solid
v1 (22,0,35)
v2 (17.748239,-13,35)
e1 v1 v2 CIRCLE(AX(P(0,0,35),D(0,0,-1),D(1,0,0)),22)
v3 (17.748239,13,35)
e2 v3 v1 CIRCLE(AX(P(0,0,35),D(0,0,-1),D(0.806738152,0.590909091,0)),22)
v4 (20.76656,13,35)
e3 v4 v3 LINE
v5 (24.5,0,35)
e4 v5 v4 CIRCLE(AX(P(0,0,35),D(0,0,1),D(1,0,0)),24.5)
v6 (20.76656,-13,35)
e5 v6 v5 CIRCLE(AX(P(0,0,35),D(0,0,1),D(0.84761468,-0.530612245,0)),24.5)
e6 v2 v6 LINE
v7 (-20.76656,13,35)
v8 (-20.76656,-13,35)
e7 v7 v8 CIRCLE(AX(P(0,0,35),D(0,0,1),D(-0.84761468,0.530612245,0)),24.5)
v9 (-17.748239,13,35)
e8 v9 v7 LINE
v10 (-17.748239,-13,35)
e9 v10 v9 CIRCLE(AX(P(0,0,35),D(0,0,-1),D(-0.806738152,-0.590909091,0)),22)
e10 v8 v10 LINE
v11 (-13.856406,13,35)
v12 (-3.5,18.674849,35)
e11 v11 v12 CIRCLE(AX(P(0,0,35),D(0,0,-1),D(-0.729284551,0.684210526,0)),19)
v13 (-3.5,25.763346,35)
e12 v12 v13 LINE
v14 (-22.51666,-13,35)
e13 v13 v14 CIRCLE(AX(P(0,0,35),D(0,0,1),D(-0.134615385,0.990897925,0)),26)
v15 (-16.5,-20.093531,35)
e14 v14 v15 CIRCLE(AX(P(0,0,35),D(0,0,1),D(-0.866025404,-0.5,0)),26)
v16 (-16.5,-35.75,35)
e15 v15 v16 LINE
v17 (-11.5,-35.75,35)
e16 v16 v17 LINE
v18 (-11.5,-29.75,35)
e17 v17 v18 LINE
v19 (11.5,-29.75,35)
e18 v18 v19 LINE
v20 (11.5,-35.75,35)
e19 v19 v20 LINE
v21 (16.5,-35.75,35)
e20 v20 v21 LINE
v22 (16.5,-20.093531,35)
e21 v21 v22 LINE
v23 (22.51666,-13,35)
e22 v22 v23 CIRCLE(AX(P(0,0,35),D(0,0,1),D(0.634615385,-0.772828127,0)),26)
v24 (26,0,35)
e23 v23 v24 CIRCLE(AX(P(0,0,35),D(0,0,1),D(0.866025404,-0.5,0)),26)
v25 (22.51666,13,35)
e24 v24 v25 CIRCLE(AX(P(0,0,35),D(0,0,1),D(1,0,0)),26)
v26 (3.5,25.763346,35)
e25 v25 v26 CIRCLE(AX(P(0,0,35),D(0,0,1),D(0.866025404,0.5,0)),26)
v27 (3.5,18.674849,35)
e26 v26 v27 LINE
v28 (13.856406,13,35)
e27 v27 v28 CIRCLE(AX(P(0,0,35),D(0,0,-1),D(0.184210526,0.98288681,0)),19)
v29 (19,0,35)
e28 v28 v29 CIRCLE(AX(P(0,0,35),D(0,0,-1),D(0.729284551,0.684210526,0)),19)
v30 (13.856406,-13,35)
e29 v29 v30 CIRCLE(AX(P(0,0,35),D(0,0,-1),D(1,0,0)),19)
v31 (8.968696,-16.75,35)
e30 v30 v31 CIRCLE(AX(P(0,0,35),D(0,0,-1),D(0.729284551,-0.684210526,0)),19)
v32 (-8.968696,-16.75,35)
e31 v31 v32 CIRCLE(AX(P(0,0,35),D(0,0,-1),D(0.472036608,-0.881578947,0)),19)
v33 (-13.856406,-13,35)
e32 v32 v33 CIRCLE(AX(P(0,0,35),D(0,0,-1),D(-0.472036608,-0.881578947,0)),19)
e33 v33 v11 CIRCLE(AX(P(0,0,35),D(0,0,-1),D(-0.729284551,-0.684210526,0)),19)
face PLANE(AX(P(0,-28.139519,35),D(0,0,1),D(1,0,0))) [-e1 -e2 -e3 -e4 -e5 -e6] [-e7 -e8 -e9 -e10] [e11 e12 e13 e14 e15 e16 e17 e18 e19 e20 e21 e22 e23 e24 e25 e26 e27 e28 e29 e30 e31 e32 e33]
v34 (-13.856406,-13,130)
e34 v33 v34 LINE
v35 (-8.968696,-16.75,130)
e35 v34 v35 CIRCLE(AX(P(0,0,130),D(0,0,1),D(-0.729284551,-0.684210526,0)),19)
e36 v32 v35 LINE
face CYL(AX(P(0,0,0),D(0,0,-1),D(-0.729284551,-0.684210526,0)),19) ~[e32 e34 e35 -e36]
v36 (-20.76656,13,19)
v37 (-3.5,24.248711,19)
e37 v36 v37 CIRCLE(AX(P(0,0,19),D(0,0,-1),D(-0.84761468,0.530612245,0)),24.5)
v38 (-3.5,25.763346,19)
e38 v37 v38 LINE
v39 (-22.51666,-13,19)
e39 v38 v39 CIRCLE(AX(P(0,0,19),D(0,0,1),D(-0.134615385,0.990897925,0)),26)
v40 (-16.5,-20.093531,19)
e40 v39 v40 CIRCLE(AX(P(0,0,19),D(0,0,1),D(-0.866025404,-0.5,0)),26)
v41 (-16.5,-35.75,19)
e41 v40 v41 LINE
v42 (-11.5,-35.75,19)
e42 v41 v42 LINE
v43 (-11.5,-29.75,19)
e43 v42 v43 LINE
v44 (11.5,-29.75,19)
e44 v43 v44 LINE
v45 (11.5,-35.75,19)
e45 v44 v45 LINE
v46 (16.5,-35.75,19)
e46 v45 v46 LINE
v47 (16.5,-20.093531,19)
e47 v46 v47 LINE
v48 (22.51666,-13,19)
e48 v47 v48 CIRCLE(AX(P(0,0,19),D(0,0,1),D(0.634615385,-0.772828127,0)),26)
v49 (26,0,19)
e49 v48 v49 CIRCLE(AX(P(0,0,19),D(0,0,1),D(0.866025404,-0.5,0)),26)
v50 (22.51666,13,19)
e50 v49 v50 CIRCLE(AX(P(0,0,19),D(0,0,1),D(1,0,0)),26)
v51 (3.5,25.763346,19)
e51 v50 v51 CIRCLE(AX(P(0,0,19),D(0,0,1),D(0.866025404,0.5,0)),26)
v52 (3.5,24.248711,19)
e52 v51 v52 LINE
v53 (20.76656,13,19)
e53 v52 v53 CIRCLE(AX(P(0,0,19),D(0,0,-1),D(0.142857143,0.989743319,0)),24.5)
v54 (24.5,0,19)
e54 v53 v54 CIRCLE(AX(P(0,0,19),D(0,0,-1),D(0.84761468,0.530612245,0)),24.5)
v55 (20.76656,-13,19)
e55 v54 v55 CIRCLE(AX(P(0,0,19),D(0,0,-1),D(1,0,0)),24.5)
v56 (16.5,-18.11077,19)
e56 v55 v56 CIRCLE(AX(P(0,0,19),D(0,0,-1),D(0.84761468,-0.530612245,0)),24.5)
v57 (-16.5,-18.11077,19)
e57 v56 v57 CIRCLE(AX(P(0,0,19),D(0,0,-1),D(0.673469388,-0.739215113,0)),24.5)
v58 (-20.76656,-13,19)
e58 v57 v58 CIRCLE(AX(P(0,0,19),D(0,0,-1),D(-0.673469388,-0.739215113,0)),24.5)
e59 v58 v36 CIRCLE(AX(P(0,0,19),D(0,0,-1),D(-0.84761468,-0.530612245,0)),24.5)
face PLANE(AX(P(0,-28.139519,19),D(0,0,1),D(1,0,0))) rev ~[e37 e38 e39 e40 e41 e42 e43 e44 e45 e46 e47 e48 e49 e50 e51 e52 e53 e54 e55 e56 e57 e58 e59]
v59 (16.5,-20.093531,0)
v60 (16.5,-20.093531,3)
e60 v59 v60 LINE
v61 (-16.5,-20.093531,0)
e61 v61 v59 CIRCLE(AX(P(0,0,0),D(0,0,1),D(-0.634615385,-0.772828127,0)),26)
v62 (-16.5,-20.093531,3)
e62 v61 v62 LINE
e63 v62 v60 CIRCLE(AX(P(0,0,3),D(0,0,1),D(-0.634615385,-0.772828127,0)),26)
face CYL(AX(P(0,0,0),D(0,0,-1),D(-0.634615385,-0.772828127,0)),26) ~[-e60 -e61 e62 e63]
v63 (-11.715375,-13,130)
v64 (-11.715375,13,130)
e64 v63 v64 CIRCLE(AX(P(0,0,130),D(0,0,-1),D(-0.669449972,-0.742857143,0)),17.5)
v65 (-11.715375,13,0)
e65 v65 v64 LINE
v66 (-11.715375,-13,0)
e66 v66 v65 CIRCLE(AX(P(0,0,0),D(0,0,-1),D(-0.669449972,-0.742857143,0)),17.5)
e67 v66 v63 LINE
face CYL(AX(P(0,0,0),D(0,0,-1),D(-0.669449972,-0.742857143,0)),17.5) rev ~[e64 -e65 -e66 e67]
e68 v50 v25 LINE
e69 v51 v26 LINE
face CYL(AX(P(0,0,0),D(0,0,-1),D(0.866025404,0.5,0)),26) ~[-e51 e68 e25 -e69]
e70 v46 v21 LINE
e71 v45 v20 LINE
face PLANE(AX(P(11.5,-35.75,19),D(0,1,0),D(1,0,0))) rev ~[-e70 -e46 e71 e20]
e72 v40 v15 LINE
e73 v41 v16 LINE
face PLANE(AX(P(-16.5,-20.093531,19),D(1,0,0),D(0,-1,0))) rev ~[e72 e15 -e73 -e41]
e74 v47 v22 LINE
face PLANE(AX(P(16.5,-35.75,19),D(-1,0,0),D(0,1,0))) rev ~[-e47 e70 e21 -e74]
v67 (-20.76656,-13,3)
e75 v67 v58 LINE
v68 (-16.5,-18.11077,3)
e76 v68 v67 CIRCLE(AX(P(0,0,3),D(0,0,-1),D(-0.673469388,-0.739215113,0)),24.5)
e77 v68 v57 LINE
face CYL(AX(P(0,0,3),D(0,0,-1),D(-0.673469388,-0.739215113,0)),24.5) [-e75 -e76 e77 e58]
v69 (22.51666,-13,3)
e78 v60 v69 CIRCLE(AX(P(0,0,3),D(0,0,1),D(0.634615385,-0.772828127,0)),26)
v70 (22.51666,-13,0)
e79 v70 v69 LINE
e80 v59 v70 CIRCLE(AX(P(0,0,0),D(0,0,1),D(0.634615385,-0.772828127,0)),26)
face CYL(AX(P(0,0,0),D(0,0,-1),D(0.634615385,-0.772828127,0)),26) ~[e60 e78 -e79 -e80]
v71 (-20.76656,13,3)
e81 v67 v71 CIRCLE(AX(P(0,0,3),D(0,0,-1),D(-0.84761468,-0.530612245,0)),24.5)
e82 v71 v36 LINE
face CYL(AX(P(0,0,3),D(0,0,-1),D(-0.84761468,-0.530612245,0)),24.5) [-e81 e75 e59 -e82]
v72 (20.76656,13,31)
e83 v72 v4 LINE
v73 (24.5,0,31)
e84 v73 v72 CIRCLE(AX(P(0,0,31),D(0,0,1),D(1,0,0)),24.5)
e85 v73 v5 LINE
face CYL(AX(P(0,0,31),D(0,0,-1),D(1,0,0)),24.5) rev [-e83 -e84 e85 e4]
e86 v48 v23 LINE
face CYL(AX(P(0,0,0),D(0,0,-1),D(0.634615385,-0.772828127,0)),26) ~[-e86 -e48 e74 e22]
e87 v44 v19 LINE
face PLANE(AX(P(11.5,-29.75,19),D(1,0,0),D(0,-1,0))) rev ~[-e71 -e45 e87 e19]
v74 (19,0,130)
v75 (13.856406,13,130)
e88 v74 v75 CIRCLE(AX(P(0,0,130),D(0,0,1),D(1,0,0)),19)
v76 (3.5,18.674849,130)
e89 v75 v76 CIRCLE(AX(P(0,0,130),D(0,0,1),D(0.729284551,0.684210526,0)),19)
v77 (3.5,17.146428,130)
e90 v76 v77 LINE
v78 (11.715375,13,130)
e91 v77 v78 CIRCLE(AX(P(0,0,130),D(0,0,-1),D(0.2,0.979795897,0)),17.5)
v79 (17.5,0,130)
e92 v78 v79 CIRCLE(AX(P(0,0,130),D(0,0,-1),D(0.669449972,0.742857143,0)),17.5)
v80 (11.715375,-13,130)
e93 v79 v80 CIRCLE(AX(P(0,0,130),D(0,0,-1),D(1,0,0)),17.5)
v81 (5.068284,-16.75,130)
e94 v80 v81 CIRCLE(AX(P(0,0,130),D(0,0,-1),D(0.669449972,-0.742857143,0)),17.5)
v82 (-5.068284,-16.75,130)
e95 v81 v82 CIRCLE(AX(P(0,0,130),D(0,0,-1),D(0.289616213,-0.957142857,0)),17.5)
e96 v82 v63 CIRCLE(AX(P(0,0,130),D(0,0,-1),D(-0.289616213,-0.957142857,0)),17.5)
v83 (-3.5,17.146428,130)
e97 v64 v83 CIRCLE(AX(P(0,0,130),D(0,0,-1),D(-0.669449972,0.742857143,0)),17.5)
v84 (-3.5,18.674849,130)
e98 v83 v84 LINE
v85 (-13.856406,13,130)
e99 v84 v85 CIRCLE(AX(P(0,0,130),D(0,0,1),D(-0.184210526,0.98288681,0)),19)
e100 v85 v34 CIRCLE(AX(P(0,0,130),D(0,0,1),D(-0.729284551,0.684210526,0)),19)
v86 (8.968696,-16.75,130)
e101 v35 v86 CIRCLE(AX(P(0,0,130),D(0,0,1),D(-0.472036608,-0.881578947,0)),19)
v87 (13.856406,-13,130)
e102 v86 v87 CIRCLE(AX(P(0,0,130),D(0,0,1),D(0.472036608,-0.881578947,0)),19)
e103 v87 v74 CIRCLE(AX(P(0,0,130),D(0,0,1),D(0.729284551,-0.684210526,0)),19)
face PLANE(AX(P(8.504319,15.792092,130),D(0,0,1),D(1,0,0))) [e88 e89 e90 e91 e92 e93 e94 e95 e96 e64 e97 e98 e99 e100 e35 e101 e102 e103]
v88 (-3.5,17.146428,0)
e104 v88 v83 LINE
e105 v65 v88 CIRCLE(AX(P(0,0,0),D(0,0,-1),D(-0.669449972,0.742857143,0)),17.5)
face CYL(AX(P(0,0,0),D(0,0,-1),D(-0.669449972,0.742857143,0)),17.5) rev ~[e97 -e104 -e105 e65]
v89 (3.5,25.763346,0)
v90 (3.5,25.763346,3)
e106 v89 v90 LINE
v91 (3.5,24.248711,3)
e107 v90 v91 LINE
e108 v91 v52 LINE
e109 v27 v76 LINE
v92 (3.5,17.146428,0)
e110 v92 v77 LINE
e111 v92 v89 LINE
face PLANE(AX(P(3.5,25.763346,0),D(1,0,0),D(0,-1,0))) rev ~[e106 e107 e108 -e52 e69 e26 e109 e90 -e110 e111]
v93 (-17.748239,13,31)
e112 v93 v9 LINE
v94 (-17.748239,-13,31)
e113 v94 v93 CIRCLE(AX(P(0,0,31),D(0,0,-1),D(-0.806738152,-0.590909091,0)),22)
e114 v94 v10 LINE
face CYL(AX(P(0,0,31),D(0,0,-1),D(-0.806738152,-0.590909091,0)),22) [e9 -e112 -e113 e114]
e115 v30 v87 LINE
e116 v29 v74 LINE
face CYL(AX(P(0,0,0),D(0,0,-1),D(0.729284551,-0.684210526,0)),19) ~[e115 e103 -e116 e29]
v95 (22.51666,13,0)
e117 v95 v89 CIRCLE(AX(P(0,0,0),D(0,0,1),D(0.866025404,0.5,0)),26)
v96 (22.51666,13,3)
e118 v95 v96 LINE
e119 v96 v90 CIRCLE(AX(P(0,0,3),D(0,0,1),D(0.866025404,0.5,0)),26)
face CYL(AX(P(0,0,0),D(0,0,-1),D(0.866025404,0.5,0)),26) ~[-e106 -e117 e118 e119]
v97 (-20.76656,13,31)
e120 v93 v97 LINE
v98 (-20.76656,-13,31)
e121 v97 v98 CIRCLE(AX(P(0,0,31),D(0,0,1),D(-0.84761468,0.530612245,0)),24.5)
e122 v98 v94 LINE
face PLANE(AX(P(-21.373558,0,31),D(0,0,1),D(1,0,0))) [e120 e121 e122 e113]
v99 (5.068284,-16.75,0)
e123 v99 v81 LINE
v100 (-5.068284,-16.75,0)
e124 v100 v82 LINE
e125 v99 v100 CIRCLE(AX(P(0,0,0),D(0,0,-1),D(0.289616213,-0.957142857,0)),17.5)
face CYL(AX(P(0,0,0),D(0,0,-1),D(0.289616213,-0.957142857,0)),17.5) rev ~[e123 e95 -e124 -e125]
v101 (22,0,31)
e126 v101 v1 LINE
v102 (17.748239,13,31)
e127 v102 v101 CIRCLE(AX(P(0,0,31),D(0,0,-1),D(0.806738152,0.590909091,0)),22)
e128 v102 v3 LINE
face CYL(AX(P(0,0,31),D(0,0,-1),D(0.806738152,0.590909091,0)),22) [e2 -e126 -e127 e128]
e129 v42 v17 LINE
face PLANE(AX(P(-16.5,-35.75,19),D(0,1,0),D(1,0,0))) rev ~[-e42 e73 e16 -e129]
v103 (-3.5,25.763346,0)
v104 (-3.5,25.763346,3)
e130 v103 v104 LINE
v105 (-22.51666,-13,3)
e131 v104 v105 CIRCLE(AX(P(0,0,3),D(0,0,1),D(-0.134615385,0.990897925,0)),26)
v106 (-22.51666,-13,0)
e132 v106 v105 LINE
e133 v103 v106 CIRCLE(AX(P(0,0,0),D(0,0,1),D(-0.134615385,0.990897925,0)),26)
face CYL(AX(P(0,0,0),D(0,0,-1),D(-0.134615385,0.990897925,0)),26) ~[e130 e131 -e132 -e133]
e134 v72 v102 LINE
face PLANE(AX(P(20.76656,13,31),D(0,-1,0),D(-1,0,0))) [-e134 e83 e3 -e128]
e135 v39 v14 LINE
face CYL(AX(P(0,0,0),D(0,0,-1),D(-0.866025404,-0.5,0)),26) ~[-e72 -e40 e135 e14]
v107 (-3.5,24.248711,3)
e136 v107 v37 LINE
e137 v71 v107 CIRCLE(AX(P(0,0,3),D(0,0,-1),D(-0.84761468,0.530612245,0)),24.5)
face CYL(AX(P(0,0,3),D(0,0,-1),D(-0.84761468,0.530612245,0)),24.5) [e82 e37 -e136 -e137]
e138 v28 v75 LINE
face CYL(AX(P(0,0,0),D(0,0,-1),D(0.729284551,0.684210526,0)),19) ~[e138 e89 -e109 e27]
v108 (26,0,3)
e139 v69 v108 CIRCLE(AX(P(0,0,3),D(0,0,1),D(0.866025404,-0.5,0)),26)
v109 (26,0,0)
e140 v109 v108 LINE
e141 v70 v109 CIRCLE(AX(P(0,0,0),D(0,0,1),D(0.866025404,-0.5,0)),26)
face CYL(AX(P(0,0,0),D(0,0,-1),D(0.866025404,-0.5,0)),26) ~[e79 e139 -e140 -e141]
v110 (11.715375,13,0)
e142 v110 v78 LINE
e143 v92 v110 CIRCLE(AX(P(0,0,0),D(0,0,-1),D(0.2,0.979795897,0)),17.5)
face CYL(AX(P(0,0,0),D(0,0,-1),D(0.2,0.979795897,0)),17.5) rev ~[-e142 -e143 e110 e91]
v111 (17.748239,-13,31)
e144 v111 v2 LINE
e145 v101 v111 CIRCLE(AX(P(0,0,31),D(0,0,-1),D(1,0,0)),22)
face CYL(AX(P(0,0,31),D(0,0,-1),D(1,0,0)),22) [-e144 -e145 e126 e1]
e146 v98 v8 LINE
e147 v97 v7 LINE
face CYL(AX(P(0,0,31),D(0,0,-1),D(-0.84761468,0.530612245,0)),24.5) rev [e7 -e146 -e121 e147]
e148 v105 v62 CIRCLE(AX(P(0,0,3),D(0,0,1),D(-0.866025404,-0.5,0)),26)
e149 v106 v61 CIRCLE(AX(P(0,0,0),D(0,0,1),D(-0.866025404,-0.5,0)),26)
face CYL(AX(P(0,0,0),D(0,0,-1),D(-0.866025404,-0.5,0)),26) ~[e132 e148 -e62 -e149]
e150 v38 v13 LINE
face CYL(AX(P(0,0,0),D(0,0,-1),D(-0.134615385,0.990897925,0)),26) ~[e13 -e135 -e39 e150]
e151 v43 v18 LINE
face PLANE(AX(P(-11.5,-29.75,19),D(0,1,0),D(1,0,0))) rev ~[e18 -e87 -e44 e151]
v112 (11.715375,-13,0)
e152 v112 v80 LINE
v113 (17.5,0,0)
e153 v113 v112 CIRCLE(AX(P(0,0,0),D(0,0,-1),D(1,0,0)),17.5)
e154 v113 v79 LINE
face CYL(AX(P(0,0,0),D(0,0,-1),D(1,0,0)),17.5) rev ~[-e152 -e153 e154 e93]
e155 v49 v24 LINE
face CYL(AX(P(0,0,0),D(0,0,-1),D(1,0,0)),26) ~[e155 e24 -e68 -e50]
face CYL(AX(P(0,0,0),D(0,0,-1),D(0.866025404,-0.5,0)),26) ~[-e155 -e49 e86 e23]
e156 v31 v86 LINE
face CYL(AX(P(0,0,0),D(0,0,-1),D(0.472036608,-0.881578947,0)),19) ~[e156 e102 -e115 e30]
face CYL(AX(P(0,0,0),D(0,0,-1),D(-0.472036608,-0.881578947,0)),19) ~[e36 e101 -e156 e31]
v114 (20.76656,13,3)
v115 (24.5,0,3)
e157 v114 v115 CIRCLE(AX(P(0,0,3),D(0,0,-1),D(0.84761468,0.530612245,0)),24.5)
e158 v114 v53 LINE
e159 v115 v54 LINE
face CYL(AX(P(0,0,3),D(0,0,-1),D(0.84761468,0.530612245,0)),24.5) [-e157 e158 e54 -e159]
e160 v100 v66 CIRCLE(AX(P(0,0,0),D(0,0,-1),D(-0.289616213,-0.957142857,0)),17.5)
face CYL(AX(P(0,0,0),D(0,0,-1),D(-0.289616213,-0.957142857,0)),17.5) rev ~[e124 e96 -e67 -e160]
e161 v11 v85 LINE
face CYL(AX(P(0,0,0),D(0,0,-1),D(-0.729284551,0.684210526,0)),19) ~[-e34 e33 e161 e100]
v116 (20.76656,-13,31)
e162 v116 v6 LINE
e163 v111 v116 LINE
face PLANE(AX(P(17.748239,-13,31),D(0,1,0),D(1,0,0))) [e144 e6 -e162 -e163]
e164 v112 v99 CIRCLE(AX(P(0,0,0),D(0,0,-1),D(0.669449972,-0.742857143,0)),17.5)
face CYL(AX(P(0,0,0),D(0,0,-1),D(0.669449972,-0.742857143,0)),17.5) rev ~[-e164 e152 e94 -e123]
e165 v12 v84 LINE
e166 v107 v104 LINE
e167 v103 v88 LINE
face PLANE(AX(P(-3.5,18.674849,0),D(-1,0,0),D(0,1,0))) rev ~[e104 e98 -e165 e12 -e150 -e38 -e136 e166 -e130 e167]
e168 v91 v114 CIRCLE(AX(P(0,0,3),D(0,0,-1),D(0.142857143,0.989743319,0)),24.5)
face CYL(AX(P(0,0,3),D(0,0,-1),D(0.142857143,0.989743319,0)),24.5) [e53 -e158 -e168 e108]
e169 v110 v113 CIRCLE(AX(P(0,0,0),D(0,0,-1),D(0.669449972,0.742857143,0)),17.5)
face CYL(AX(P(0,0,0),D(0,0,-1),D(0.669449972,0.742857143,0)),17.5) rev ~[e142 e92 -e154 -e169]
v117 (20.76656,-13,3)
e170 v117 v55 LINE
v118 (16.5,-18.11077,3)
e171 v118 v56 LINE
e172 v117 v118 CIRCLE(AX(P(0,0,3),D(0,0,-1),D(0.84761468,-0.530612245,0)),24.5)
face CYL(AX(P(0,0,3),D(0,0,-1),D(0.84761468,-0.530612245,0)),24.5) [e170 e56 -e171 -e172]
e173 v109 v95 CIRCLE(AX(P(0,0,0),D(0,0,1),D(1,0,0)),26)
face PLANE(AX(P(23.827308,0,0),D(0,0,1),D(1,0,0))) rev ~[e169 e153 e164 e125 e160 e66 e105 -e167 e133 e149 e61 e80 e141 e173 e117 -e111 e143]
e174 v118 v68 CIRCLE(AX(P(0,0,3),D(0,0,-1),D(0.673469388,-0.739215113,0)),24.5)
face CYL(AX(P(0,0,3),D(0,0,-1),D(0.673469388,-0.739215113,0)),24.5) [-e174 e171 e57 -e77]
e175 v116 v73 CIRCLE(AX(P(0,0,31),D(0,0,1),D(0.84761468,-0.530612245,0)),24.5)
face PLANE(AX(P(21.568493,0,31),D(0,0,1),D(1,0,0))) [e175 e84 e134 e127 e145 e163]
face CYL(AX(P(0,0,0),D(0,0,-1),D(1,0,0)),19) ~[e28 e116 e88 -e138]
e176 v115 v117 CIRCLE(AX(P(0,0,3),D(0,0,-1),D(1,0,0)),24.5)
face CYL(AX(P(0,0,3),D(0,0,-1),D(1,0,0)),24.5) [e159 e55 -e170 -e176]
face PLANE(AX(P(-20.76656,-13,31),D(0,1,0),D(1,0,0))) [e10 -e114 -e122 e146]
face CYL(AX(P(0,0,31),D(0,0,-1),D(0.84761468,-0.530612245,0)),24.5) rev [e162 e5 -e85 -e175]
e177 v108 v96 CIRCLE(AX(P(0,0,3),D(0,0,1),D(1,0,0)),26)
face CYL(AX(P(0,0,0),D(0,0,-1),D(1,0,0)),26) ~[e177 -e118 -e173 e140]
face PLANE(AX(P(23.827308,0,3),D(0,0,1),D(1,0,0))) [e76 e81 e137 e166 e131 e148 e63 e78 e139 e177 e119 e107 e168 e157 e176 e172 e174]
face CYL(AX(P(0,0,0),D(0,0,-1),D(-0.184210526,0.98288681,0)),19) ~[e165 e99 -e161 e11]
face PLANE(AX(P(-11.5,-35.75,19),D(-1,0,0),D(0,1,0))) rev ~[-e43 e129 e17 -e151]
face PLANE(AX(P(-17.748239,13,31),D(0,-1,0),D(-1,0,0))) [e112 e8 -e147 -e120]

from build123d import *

# Parameters (mm, degrees)
F1_DEPTH = 130
F2_DEPTH = 35
F3_START = 31
F3_DEPTH = 4
F4_START = 19
F4_DEPTH = 16
F5_START = 3
F5_DEPTH = 16


with BuildPart() as f1:
    # F0 (on Top) → F1 (new body)
    with BuildSketch(Plane.XY):
        with BuildLine():
            Line((11.7153745139, 13), (13.8564064606, 13))
            ThreePointArc((13.8564064606, 13), (9.130289712, 16.6624670975), (3.5, 18.674849397))
            Line((3.5, 18.674849397), (3.5, 17.1464281995))
            ThreePointArc((3.5, 17.1464281995), (7.8851202973, 15.6228959511), (11.7153745139, 13))
        make_face()
        with BuildLine():
            Line((-3.5, 17.1464281995), (-3.5, 18.674849397))
            ThreePointArc((-3.5, 18.674849397), (-9.130289712, 16.6624670975), (-13.8564064606, 13))
            Line((-13.8564064606, 13), (-11.7153745139, 13))
            ThreePointArc((-11.7153745139, 13), (-7.8851202973, 15.6228959511), (-3.5, 17.1464281995))
        make_face()
        with BuildLine():
            Line((-13.8564064606, -13), (-11.7153745139, -13))
            ThreePointArc((-11.7153745139, -13), (-17.5, 0), (-11.7153745139, 13))
            Line((-11.7153745139, 13), (-13.8564064606, 13))
            ThreePointArc((-13.8564064606, 13), (-19, 0), (-13.8564064606, -13))
        make_face()
        with BuildLine():
            ThreePointArc((-13.8564064606, -13), (-11.5655499451, -15.0744172182), (-8.9686955573, -16.75))
            Line((-8.9686955573, -16.75), (-5.0682837332, -16.75))
            ThreePointArc((-5.0682837332, -16.75), (-8.5987453177, -15.2417708604), (-11.7153745139, -13))
            Line((-11.7153745139, -13), (-13.8564064606, -13))
        make_face()
        with BuildLine():
            ThreePointArc((-8.9686955573, -16.75), (0, -19), (8.9686955573, -16.75))
            Line((8.9686955573, -16.75), (5.0682837332, -16.75))
            ThreePointArc((5.0682837332, -16.75), (0, -17.5), (-5.0682837332, -16.75))
            Line((-5.0682837332, -16.75), (-8.9686955573, -16.75))
        make_face()
        with BuildLine():
            ThreePointArc((8.9686955573, -16.75), (11.5655499451, -15.0744172182), (13.8564064606, -13))
            Line((13.8564064606, -13), (11.7153745139, -13))
            ThreePointArc((11.7153745139, -13), (8.5987453177, -15.2417708604), (5.0682837332, -16.75))
            Line((5.0682837332, -16.75), (8.9686955573, -16.75))
        make_face()
        with BuildLine():
            ThreePointArc((13.8564064606, -13), (17.667367132, -6.9902888799), (19, 0))
            ThreePointArc((19, 0), (17.667367132, 6.9902888799), (13.8564064606, 13))
            Line((13.8564064606, 13), (11.7153745139, 13))
            ThreePointArc((11.7153745139, 13), (15.9885748895, 7.1144552148), (17.5, 0))
            ThreePointArc((17.5, 0), (15.9885748895, -7.1144552148), (11.7153745139, -13))
            Line((11.7153745139, -13), (13.8564064606, -13))
        make_face()
    extrude(amount=F1_DEPTH)

    # F0 (on Top) → F2 (join)
    with BuildSketch(Plane.XY):
        with BuildLine():
            Line((22.5166604984, 13), (20.7665596573, 13))
            ThreePointArc((20.7665596573, 13), (23.548149732, 6.7627394004), (24.5, 0))
            ThreePointArc((24.5, 0), (23.548149732, -6.7627394004), (20.7665596573, -13))
            Line((20.7665596573, -13), (22.5166604984, -13))
            ThreePointArc((22.5166604984, -13), (25.1140714835, -6.7292951727), (26, 0))
            ThreePointArc((26, 0), (25.1140714835, 6.7292951727), (22.5166604984, 13))
        make_face()
        with BuildLine():
            ThreePointArc((3.5, 24.248711306), (13.3734758351, 20.5280331276), (20.7665596573, 13))
            Line((20.7665596573, 13), (22.5166604984, 13))
            ThreePointArc((22.5166604984, 13), (14.4893894457, 21.5883670872), (3.5, 25.763346056))
            Line((3.5, 25.763346056), (3.5, 24.248711306))
        make_face()
        with BuildLine():
            Line((-16.5, -20.0935312974), (-16.5, -18.1107702763))
            ThreePointArc((-16.5, -18.1107702763), (-18.807687534, -15.7009837151), (-20.7665596573, -13))
            Line((-20.7665596573, -13), (-22.5166604984, -13))
            ThreePointArc((-22.5166604984, -13), (-19.8281238567, -16.818011307), (-16.5, -20.0935312974))
        make_face()
        with BuildLine():
            ThreePointArc((-20.7665596573, 13), (-13.3734758351, 20.5280331276), (-3.5, 24.248711306))
            Line((-3.5, 24.248711306), (-3.5, 25.763346056))
            ThreePointArc((-3.5, 25.763346056), (-14.4893894457, 21.5883670872), (-22.5166604984, 13))
            Line((-22.5166604984, 13), (-20.7665596573, 13))
        make_face()
        with BuildLine():
            Line((16.5, -20.0935312974), (16.5, -18.1107702763))
            ThreePointArc((16.5, -18.1107702763), (0, -24.5), (-16.5, -18.1107702763))
            Line((-16.5, -18.1107702763), (-16.5, -20.0935312974))
            ThreePointArc((-16.5, -20.0935312974), (0, -26), (16.5, -20.0935312974))
        make_face()
        with BuildLine():
            Line((20.7665596573, 13), (17.7482393493, 13))
            ThreePointArc((17.7482393493, 13), (20.9100605652, 6.8388132858), (22, 0))
            ThreePointArc((22, 0), (20.9100605652, -6.8388132858), (17.7482393493, -13))
            Line((17.7482393493, -13), (20.7665596573, -13))
            ThreePointArc((20.7665596573, -13), (23.548149732, -6.7627394004), (24.5, 0))
            ThreePointArc((24.5, 0), (23.548149732, 6.7627394004), (20.7665596573, 13))
        make_face()
        with BuildLine():
            ThreePointArc((3.5, 21.719806629), (11.4839311985, 18.7648427712), (17.7482393493, 13))
            Line((17.7482393493, 13), (20.7665596573, 13))
            ThreePointArc((20.7665596573, 13), (13.3734758351, 20.5280331276), (3.5, 24.248711306))
            Line((3.5, 24.248711306), (3.5, 21.719806629))
        make_face()
        with BuildLine():
            ThreePointArc((-17.7482393493, 13), (-11.4839311985, 18.7648427712), (-3.5, 21.719806629))
            Line((-3.5, 21.719806629), (-3.5, 24.248711306))
            ThreePointArc((-3.5, 24.248711306), (-13.3734758351, 20.5280331276), (-20.7665596573, 13))
            Line((-20.7665596573, 13), (-17.7482393493, 13))
        make_face()
        with BuildLine():
            ThreePointArc((13.8564064606, 13), (17.667367132, 6.9902888799), (19, 0))
            ThreePointArc((19, 0), (17.667367132, -6.9902888799), (13.8564064606, -13))
            Line((13.8564064606, -13), (17.7482393493, -13))
            ThreePointArc((17.7482393493, -13), (20.9100605652, -6.8388132858), (22, 0))
            ThreePointArc((22, 0), (20.9100605652, 6.8388132858), (17.7482393493, 13))
            Line((17.7482393493, 13), (13.8564064606, 13))
        make_face()
        with BuildLine():
            ThreePointArc((3.5, 18.674849397), (9.130289712, 16.6624670975), (13.8564064606, 13))
            Line((13.8564064606, 13), (17.7482393493, 13))
            ThreePointArc((17.7482393493, 13), (11.4839311985, 18.7648427712), (3.5, 21.719806629))
            Line((3.5, 21.719806629), (3.5, 18.674849397))
        make_face()
        with BuildLine():
            Line((-14.2631518256, -16.75), (-8.9686955573, -16.75))
            ThreePointArc((-8.9686955573, -16.75), (-11.5655499451, -15.0744172182), (-13.8564064606, -13))
            Line((-13.8564064606, -13), (-17.7482393493, -13))
            ThreePointArc((-17.7482393493, -13), (-16.1151455544, -14.9767180571), (-14.2631518256, -16.75))
        make_face()
        with BuildLine():
            Line((14.2631518256, -16.75), (8.9686955573, -16.75))
            ThreePointArc((8.9686955573, -16.75), (0, -19), (-8.9686955573, -16.75))
            Line((-8.9686955573, -16.75), (-14.2631518256, -16.75))
            ThreePointArc((-14.2631518256, -16.75), (0, -22), (14.2631518256, -16.75))
        make_face()
        with BuildLine():
            Line((17.7482393493, -13), (13.8564064606, -13))
            ThreePointArc((13.8564064606, -13), (11.5655499451, -15.0744172182), (8.9686955573, -16.75))
            Line((8.9686955573, -16.75), (14.2631518256, -16.75))
            ThreePointArc((14.2631518256, -16.75), (16.1151455544, -14.9767180571), (17.7482393493, -13))
        make_face()
        with BuildLine():
            ThreePointArc((-13.8564064606, 13), (-9.130289712, 16.6624670975), (-3.5, 18.674849397))
            Line((-3.5, 18.674849397), (-3.5, 21.719806629))
            ThreePointArc((-3.5, 21.719806629), (-11.4839311985, 18.7648427712), (-17.7482393493, 13))
            Line((-17.7482393493, 13), (-13.8564064606, 13))
        make_face()
        with BuildLine():
            Line((16.5, -16.75), (14.2631518256, -16.75))
            ThreePointArc((14.2631518256, -16.75), (0, -22), (-14.2631518256, -16.75))
            Line((-14.2631518256, -16.75), (-16.5, -16.75))
            Line((-16.5, -16.75), (-16.5, -18.1107702763))
            ThreePointArc((-16.5, -18.1107702763), (0, -24.5), (16.5, -18.1107702763))
            Line((16.5, -18.1107702763), (16.5, -16.75))
        make_face()
        with BuildLine():
            Line((22.5166604984, -13), (20.7665596573, -13))
            ThreePointArc((20.7665596573, -13), (18.807687534, -15.7009837151), (16.5, -18.1107702763))
            Line((16.5, -18.1107702763), (16.5, -20.0935312974))
            ThreePointArc((16.5, -20.0935312974), (19.8281238567, -16.818011307), (22.5166604984, -13))
        make_face()
        with BuildLine():
            Line((20.7665596573, -13), (17.7482393493, -13))
            ThreePointArc((17.7482393493, -13), (16.1151455544, -14.9767180571), (14.2631518256, -16.75))
            Line((14.2631518256, -16.75), (16.5, -16.75))
            Line((16.5, -16.75), (16.5, -18.1107702763))
            ThreePointArc((16.5, -18.1107702763), (18.807687534, -15.7009837151), (20.7665596573, -13))
        make_face()
        with BuildLine():
            Line((-16.5, -16.75), (-14.2631518256, -16.75))
            ThreePointArc((-14.2631518256, -16.75), (-16.1151455544, -14.9767180571), (-17.7482393493, -13))
            Line((-17.7482393493, -13), (-20.7665596573, -13))
            ThreePointArc((-20.7665596573, -13), (-18.807687534, -15.7009837151), (-16.5, -18.1107702763))
            Line((-16.5, -18.1107702763), (-16.5, -16.75))
        make_face()
        with BuildLine():
            ThreePointArc((-13.8564064606, -13), (-19, 0), (-13.8564064606, 13))
            Line((-13.8564064606, 13), (-17.7482393493, 13))
            ThreePointArc((-17.7482393493, 13), (-22, 0), (-17.7482393493, -13))
            Line((-17.7482393493, -13), (-13.8564064606, -13))
        make_face()
        with BuildLine():
            ThreePointArc((-17.7482393493, -13), (-22, 0), (-17.7482393493, 13))
            Line((-17.7482393493, 13), (-20.7665596573, 13))
            ThreePointArc((-20.7665596573, 13), (-24.5, 0), (-20.7665596573, -13))
            Line((-20.7665596573, -13), (-17.7482393493, -13))
        make_face()
        with BuildLine():
            ThreePointArc((-20.7665596573, -13), (-24.5, 0), (-20.7665596573, 13))
            Line((-20.7665596573, 13), (-22.5166604984, 13))
            ThreePointArc((-22.5166604984, 13), (-26, 0), (-22.5166604984, -13))
            Line((-22.5166604984, -13), (-20.7665596573, -13))
        make_face()
    extrude(amount=F2_DEPTH)

    # F0 (on Top) → F3 (cut)
    with BuildSketch(Plane.XY.offset(F3_START)):
        with BuildLine():
            Line((20.7665596573, 13), (17.7482393493, 13))
            ThreePointArc((17.7482393493, 13), (20.9100605652, 6.8388132858), (22, 0))
            ThreePointArc((22, 0), (20.9100605652, -6.8388132858), (17.7482393493, -13))
            Line((17.7482393493, -13), (20.7665596573, -13))
            ThreePointArc((20.7665596573, -13), (23.548149732, -6.7627394004), (24.5, 0))
            ThreePointArc((24.5, 0), (23.548149732, 6.7627394004), (20.7665596573, 13))
        make_face()
        with BuildLine():
            ThreePointArc((-17.7482393493, -13), (-22, 0), (-17.7482393493, 13))
            Line((-17.7482393493, 13), (-20.7665596573, 13))
            ThreePointArc((-20.7665596573, 13), (-24.5, 0), (-20.7665596573, -13))
            Line((-20.7665596573, -13), (-17.7482393493, -13))
        make_face()
    extrude(amount=F3_DEPTH, mode=Mode.SUBTRACT)

    # F0 (on Top) → F4 (join)
    with BuildSketch(Plane.XY.offset(F4_START)):
        with BuildLine():
            Line((16.5, -35.75), (16.5, -20.0935312974))
            ThreePointArc((16.5, -20.0935312974), (0, -26), (-16.5, -20.0935312974))
            Line((-16.5, -20.0935312974), (-16.5, -35.75))
            Line((-16.5, -35.75), (-11.5, -35.75))
            Line((-11.5, -35.75), (-11.5, -29.75))
            Line((-11.5, -29.75), (11.5, -29.75))
            Line((11.5, -29.75), (11.5, -35.75))
            Line((11.5, -35.75), (16.5, -35.75))
        make_face()
    extrude(amount=F4_DEPTH)

    # F0 (on Top) → F5 (cut)
    with BuildSketch(Plane.XY.offset(F5_START)):
        with BuildLine():
            Line((22.5166604984, 13), (20.7665596573, 13))
            ThreePointArc((20.7665596573, 13), (23.548149732, 6.7627394004), (24.5, 0))
            ThreePointArc((24.5, 0), (23.548149732, -6.7627394004), (20.7665596573, -13))
            Line((20.7665596573, -13), (22.5166604984, -13))
            ThreePointArc((22.5166604984, -13), (25.1140714835, -6.7292951727), (26, 0))
            ThreePointArc((26, 0), (25.1140714835, 6.7292951727), (22.5166604984, 13))
        make_face()
        with BuildLine():
            ThreePointArc((3.5, 24.248711306), (13.3734758351, 20.5280331276), (20.7665596573, 13))
            Line((20.7665596573, 13), (22.5166604984, 13))
            ThreePointArc((22.5166604984, 13), (14.4893894457, 21.5883670872), (3.5, 25.763346056))
            Line((3.5, 25.763346056), (3.5, 24.248711306))
        make_face()
        with BuildLine():
            Line((-16.5, -20.0935312974), (-16.5, -18.1107702763))
            ThreePointArc((-16.5, -18.1107702763), (-18.807687534, -15.7009837151), (-20.7665596573, -13))
            Line((-20.7665596573, -13), (-22.5166604984, -13))
            ThreePointArc((-22.5166604984, -13), (-19.8281238567, -16.818011307), (-16.5, -20.0935312974))
        make_face()
        with BuildLine():
            Line((16.5, -20.0935312974), (16.5, -18.1107702763))
            ThreePointArc((16.5, -18.1107702763), (0, -24.5), (-16.5, -18.1107702763))
            Line((-16.5, -18.1107702763), (-16.5, -20.0935312974))
            ThreePointArc((-16.5, -20.0935312974), (0, -26), (16.5, -20.0935312974))
        make_face()
        with BuildLine():
            Line((22.5166604984, -13), (20.7665596573, -13))
            ThreePointArc((20.7665596573, -13), (18.807687534, -15.7009837151), (16.5, -18.1107702763))
            Line((16.5, -18.1107702763), (16.5, -20.0935312974))
            ThreePointArc((16.5, -20.0935312974), (19.8281238567, -16.818011307), (22.5166604984, -13))
        make_face()
        with BuildLine():
            ThreePointArc((-20.7665596573, 13), (-13.3734758351, 20.5280331276), (-3.5, 24.248711306))
            Line((-3.5, 24.248711306), (-3.5, 25.763346056))
            ThreePointArc((-3.5, 25.763346056), (-14.4893894457, 21.5883670872), (-22.5166604984, 13))
            Line((-22.5166604984, 13), (-20.7665596573, 13))
        make_face()
        with BuildLine():
            ThreePointArc((-20.7665596573, -13), (-24.5, 0), (-20.7665596573, 13))
            Line((-20.7665596573, 13), (-22.5166604984, 13))
            ThreePointArc((-22.5166604984, 13), (-26, 0), (-22.5166604984, -13))
            Line((-22.5166604984, -13), (-20.7665596573, -13))
        make_face()
    extrude(amount=F5_DEPTH, mode=Mode.SUBTRACT)


solid = f1.part
